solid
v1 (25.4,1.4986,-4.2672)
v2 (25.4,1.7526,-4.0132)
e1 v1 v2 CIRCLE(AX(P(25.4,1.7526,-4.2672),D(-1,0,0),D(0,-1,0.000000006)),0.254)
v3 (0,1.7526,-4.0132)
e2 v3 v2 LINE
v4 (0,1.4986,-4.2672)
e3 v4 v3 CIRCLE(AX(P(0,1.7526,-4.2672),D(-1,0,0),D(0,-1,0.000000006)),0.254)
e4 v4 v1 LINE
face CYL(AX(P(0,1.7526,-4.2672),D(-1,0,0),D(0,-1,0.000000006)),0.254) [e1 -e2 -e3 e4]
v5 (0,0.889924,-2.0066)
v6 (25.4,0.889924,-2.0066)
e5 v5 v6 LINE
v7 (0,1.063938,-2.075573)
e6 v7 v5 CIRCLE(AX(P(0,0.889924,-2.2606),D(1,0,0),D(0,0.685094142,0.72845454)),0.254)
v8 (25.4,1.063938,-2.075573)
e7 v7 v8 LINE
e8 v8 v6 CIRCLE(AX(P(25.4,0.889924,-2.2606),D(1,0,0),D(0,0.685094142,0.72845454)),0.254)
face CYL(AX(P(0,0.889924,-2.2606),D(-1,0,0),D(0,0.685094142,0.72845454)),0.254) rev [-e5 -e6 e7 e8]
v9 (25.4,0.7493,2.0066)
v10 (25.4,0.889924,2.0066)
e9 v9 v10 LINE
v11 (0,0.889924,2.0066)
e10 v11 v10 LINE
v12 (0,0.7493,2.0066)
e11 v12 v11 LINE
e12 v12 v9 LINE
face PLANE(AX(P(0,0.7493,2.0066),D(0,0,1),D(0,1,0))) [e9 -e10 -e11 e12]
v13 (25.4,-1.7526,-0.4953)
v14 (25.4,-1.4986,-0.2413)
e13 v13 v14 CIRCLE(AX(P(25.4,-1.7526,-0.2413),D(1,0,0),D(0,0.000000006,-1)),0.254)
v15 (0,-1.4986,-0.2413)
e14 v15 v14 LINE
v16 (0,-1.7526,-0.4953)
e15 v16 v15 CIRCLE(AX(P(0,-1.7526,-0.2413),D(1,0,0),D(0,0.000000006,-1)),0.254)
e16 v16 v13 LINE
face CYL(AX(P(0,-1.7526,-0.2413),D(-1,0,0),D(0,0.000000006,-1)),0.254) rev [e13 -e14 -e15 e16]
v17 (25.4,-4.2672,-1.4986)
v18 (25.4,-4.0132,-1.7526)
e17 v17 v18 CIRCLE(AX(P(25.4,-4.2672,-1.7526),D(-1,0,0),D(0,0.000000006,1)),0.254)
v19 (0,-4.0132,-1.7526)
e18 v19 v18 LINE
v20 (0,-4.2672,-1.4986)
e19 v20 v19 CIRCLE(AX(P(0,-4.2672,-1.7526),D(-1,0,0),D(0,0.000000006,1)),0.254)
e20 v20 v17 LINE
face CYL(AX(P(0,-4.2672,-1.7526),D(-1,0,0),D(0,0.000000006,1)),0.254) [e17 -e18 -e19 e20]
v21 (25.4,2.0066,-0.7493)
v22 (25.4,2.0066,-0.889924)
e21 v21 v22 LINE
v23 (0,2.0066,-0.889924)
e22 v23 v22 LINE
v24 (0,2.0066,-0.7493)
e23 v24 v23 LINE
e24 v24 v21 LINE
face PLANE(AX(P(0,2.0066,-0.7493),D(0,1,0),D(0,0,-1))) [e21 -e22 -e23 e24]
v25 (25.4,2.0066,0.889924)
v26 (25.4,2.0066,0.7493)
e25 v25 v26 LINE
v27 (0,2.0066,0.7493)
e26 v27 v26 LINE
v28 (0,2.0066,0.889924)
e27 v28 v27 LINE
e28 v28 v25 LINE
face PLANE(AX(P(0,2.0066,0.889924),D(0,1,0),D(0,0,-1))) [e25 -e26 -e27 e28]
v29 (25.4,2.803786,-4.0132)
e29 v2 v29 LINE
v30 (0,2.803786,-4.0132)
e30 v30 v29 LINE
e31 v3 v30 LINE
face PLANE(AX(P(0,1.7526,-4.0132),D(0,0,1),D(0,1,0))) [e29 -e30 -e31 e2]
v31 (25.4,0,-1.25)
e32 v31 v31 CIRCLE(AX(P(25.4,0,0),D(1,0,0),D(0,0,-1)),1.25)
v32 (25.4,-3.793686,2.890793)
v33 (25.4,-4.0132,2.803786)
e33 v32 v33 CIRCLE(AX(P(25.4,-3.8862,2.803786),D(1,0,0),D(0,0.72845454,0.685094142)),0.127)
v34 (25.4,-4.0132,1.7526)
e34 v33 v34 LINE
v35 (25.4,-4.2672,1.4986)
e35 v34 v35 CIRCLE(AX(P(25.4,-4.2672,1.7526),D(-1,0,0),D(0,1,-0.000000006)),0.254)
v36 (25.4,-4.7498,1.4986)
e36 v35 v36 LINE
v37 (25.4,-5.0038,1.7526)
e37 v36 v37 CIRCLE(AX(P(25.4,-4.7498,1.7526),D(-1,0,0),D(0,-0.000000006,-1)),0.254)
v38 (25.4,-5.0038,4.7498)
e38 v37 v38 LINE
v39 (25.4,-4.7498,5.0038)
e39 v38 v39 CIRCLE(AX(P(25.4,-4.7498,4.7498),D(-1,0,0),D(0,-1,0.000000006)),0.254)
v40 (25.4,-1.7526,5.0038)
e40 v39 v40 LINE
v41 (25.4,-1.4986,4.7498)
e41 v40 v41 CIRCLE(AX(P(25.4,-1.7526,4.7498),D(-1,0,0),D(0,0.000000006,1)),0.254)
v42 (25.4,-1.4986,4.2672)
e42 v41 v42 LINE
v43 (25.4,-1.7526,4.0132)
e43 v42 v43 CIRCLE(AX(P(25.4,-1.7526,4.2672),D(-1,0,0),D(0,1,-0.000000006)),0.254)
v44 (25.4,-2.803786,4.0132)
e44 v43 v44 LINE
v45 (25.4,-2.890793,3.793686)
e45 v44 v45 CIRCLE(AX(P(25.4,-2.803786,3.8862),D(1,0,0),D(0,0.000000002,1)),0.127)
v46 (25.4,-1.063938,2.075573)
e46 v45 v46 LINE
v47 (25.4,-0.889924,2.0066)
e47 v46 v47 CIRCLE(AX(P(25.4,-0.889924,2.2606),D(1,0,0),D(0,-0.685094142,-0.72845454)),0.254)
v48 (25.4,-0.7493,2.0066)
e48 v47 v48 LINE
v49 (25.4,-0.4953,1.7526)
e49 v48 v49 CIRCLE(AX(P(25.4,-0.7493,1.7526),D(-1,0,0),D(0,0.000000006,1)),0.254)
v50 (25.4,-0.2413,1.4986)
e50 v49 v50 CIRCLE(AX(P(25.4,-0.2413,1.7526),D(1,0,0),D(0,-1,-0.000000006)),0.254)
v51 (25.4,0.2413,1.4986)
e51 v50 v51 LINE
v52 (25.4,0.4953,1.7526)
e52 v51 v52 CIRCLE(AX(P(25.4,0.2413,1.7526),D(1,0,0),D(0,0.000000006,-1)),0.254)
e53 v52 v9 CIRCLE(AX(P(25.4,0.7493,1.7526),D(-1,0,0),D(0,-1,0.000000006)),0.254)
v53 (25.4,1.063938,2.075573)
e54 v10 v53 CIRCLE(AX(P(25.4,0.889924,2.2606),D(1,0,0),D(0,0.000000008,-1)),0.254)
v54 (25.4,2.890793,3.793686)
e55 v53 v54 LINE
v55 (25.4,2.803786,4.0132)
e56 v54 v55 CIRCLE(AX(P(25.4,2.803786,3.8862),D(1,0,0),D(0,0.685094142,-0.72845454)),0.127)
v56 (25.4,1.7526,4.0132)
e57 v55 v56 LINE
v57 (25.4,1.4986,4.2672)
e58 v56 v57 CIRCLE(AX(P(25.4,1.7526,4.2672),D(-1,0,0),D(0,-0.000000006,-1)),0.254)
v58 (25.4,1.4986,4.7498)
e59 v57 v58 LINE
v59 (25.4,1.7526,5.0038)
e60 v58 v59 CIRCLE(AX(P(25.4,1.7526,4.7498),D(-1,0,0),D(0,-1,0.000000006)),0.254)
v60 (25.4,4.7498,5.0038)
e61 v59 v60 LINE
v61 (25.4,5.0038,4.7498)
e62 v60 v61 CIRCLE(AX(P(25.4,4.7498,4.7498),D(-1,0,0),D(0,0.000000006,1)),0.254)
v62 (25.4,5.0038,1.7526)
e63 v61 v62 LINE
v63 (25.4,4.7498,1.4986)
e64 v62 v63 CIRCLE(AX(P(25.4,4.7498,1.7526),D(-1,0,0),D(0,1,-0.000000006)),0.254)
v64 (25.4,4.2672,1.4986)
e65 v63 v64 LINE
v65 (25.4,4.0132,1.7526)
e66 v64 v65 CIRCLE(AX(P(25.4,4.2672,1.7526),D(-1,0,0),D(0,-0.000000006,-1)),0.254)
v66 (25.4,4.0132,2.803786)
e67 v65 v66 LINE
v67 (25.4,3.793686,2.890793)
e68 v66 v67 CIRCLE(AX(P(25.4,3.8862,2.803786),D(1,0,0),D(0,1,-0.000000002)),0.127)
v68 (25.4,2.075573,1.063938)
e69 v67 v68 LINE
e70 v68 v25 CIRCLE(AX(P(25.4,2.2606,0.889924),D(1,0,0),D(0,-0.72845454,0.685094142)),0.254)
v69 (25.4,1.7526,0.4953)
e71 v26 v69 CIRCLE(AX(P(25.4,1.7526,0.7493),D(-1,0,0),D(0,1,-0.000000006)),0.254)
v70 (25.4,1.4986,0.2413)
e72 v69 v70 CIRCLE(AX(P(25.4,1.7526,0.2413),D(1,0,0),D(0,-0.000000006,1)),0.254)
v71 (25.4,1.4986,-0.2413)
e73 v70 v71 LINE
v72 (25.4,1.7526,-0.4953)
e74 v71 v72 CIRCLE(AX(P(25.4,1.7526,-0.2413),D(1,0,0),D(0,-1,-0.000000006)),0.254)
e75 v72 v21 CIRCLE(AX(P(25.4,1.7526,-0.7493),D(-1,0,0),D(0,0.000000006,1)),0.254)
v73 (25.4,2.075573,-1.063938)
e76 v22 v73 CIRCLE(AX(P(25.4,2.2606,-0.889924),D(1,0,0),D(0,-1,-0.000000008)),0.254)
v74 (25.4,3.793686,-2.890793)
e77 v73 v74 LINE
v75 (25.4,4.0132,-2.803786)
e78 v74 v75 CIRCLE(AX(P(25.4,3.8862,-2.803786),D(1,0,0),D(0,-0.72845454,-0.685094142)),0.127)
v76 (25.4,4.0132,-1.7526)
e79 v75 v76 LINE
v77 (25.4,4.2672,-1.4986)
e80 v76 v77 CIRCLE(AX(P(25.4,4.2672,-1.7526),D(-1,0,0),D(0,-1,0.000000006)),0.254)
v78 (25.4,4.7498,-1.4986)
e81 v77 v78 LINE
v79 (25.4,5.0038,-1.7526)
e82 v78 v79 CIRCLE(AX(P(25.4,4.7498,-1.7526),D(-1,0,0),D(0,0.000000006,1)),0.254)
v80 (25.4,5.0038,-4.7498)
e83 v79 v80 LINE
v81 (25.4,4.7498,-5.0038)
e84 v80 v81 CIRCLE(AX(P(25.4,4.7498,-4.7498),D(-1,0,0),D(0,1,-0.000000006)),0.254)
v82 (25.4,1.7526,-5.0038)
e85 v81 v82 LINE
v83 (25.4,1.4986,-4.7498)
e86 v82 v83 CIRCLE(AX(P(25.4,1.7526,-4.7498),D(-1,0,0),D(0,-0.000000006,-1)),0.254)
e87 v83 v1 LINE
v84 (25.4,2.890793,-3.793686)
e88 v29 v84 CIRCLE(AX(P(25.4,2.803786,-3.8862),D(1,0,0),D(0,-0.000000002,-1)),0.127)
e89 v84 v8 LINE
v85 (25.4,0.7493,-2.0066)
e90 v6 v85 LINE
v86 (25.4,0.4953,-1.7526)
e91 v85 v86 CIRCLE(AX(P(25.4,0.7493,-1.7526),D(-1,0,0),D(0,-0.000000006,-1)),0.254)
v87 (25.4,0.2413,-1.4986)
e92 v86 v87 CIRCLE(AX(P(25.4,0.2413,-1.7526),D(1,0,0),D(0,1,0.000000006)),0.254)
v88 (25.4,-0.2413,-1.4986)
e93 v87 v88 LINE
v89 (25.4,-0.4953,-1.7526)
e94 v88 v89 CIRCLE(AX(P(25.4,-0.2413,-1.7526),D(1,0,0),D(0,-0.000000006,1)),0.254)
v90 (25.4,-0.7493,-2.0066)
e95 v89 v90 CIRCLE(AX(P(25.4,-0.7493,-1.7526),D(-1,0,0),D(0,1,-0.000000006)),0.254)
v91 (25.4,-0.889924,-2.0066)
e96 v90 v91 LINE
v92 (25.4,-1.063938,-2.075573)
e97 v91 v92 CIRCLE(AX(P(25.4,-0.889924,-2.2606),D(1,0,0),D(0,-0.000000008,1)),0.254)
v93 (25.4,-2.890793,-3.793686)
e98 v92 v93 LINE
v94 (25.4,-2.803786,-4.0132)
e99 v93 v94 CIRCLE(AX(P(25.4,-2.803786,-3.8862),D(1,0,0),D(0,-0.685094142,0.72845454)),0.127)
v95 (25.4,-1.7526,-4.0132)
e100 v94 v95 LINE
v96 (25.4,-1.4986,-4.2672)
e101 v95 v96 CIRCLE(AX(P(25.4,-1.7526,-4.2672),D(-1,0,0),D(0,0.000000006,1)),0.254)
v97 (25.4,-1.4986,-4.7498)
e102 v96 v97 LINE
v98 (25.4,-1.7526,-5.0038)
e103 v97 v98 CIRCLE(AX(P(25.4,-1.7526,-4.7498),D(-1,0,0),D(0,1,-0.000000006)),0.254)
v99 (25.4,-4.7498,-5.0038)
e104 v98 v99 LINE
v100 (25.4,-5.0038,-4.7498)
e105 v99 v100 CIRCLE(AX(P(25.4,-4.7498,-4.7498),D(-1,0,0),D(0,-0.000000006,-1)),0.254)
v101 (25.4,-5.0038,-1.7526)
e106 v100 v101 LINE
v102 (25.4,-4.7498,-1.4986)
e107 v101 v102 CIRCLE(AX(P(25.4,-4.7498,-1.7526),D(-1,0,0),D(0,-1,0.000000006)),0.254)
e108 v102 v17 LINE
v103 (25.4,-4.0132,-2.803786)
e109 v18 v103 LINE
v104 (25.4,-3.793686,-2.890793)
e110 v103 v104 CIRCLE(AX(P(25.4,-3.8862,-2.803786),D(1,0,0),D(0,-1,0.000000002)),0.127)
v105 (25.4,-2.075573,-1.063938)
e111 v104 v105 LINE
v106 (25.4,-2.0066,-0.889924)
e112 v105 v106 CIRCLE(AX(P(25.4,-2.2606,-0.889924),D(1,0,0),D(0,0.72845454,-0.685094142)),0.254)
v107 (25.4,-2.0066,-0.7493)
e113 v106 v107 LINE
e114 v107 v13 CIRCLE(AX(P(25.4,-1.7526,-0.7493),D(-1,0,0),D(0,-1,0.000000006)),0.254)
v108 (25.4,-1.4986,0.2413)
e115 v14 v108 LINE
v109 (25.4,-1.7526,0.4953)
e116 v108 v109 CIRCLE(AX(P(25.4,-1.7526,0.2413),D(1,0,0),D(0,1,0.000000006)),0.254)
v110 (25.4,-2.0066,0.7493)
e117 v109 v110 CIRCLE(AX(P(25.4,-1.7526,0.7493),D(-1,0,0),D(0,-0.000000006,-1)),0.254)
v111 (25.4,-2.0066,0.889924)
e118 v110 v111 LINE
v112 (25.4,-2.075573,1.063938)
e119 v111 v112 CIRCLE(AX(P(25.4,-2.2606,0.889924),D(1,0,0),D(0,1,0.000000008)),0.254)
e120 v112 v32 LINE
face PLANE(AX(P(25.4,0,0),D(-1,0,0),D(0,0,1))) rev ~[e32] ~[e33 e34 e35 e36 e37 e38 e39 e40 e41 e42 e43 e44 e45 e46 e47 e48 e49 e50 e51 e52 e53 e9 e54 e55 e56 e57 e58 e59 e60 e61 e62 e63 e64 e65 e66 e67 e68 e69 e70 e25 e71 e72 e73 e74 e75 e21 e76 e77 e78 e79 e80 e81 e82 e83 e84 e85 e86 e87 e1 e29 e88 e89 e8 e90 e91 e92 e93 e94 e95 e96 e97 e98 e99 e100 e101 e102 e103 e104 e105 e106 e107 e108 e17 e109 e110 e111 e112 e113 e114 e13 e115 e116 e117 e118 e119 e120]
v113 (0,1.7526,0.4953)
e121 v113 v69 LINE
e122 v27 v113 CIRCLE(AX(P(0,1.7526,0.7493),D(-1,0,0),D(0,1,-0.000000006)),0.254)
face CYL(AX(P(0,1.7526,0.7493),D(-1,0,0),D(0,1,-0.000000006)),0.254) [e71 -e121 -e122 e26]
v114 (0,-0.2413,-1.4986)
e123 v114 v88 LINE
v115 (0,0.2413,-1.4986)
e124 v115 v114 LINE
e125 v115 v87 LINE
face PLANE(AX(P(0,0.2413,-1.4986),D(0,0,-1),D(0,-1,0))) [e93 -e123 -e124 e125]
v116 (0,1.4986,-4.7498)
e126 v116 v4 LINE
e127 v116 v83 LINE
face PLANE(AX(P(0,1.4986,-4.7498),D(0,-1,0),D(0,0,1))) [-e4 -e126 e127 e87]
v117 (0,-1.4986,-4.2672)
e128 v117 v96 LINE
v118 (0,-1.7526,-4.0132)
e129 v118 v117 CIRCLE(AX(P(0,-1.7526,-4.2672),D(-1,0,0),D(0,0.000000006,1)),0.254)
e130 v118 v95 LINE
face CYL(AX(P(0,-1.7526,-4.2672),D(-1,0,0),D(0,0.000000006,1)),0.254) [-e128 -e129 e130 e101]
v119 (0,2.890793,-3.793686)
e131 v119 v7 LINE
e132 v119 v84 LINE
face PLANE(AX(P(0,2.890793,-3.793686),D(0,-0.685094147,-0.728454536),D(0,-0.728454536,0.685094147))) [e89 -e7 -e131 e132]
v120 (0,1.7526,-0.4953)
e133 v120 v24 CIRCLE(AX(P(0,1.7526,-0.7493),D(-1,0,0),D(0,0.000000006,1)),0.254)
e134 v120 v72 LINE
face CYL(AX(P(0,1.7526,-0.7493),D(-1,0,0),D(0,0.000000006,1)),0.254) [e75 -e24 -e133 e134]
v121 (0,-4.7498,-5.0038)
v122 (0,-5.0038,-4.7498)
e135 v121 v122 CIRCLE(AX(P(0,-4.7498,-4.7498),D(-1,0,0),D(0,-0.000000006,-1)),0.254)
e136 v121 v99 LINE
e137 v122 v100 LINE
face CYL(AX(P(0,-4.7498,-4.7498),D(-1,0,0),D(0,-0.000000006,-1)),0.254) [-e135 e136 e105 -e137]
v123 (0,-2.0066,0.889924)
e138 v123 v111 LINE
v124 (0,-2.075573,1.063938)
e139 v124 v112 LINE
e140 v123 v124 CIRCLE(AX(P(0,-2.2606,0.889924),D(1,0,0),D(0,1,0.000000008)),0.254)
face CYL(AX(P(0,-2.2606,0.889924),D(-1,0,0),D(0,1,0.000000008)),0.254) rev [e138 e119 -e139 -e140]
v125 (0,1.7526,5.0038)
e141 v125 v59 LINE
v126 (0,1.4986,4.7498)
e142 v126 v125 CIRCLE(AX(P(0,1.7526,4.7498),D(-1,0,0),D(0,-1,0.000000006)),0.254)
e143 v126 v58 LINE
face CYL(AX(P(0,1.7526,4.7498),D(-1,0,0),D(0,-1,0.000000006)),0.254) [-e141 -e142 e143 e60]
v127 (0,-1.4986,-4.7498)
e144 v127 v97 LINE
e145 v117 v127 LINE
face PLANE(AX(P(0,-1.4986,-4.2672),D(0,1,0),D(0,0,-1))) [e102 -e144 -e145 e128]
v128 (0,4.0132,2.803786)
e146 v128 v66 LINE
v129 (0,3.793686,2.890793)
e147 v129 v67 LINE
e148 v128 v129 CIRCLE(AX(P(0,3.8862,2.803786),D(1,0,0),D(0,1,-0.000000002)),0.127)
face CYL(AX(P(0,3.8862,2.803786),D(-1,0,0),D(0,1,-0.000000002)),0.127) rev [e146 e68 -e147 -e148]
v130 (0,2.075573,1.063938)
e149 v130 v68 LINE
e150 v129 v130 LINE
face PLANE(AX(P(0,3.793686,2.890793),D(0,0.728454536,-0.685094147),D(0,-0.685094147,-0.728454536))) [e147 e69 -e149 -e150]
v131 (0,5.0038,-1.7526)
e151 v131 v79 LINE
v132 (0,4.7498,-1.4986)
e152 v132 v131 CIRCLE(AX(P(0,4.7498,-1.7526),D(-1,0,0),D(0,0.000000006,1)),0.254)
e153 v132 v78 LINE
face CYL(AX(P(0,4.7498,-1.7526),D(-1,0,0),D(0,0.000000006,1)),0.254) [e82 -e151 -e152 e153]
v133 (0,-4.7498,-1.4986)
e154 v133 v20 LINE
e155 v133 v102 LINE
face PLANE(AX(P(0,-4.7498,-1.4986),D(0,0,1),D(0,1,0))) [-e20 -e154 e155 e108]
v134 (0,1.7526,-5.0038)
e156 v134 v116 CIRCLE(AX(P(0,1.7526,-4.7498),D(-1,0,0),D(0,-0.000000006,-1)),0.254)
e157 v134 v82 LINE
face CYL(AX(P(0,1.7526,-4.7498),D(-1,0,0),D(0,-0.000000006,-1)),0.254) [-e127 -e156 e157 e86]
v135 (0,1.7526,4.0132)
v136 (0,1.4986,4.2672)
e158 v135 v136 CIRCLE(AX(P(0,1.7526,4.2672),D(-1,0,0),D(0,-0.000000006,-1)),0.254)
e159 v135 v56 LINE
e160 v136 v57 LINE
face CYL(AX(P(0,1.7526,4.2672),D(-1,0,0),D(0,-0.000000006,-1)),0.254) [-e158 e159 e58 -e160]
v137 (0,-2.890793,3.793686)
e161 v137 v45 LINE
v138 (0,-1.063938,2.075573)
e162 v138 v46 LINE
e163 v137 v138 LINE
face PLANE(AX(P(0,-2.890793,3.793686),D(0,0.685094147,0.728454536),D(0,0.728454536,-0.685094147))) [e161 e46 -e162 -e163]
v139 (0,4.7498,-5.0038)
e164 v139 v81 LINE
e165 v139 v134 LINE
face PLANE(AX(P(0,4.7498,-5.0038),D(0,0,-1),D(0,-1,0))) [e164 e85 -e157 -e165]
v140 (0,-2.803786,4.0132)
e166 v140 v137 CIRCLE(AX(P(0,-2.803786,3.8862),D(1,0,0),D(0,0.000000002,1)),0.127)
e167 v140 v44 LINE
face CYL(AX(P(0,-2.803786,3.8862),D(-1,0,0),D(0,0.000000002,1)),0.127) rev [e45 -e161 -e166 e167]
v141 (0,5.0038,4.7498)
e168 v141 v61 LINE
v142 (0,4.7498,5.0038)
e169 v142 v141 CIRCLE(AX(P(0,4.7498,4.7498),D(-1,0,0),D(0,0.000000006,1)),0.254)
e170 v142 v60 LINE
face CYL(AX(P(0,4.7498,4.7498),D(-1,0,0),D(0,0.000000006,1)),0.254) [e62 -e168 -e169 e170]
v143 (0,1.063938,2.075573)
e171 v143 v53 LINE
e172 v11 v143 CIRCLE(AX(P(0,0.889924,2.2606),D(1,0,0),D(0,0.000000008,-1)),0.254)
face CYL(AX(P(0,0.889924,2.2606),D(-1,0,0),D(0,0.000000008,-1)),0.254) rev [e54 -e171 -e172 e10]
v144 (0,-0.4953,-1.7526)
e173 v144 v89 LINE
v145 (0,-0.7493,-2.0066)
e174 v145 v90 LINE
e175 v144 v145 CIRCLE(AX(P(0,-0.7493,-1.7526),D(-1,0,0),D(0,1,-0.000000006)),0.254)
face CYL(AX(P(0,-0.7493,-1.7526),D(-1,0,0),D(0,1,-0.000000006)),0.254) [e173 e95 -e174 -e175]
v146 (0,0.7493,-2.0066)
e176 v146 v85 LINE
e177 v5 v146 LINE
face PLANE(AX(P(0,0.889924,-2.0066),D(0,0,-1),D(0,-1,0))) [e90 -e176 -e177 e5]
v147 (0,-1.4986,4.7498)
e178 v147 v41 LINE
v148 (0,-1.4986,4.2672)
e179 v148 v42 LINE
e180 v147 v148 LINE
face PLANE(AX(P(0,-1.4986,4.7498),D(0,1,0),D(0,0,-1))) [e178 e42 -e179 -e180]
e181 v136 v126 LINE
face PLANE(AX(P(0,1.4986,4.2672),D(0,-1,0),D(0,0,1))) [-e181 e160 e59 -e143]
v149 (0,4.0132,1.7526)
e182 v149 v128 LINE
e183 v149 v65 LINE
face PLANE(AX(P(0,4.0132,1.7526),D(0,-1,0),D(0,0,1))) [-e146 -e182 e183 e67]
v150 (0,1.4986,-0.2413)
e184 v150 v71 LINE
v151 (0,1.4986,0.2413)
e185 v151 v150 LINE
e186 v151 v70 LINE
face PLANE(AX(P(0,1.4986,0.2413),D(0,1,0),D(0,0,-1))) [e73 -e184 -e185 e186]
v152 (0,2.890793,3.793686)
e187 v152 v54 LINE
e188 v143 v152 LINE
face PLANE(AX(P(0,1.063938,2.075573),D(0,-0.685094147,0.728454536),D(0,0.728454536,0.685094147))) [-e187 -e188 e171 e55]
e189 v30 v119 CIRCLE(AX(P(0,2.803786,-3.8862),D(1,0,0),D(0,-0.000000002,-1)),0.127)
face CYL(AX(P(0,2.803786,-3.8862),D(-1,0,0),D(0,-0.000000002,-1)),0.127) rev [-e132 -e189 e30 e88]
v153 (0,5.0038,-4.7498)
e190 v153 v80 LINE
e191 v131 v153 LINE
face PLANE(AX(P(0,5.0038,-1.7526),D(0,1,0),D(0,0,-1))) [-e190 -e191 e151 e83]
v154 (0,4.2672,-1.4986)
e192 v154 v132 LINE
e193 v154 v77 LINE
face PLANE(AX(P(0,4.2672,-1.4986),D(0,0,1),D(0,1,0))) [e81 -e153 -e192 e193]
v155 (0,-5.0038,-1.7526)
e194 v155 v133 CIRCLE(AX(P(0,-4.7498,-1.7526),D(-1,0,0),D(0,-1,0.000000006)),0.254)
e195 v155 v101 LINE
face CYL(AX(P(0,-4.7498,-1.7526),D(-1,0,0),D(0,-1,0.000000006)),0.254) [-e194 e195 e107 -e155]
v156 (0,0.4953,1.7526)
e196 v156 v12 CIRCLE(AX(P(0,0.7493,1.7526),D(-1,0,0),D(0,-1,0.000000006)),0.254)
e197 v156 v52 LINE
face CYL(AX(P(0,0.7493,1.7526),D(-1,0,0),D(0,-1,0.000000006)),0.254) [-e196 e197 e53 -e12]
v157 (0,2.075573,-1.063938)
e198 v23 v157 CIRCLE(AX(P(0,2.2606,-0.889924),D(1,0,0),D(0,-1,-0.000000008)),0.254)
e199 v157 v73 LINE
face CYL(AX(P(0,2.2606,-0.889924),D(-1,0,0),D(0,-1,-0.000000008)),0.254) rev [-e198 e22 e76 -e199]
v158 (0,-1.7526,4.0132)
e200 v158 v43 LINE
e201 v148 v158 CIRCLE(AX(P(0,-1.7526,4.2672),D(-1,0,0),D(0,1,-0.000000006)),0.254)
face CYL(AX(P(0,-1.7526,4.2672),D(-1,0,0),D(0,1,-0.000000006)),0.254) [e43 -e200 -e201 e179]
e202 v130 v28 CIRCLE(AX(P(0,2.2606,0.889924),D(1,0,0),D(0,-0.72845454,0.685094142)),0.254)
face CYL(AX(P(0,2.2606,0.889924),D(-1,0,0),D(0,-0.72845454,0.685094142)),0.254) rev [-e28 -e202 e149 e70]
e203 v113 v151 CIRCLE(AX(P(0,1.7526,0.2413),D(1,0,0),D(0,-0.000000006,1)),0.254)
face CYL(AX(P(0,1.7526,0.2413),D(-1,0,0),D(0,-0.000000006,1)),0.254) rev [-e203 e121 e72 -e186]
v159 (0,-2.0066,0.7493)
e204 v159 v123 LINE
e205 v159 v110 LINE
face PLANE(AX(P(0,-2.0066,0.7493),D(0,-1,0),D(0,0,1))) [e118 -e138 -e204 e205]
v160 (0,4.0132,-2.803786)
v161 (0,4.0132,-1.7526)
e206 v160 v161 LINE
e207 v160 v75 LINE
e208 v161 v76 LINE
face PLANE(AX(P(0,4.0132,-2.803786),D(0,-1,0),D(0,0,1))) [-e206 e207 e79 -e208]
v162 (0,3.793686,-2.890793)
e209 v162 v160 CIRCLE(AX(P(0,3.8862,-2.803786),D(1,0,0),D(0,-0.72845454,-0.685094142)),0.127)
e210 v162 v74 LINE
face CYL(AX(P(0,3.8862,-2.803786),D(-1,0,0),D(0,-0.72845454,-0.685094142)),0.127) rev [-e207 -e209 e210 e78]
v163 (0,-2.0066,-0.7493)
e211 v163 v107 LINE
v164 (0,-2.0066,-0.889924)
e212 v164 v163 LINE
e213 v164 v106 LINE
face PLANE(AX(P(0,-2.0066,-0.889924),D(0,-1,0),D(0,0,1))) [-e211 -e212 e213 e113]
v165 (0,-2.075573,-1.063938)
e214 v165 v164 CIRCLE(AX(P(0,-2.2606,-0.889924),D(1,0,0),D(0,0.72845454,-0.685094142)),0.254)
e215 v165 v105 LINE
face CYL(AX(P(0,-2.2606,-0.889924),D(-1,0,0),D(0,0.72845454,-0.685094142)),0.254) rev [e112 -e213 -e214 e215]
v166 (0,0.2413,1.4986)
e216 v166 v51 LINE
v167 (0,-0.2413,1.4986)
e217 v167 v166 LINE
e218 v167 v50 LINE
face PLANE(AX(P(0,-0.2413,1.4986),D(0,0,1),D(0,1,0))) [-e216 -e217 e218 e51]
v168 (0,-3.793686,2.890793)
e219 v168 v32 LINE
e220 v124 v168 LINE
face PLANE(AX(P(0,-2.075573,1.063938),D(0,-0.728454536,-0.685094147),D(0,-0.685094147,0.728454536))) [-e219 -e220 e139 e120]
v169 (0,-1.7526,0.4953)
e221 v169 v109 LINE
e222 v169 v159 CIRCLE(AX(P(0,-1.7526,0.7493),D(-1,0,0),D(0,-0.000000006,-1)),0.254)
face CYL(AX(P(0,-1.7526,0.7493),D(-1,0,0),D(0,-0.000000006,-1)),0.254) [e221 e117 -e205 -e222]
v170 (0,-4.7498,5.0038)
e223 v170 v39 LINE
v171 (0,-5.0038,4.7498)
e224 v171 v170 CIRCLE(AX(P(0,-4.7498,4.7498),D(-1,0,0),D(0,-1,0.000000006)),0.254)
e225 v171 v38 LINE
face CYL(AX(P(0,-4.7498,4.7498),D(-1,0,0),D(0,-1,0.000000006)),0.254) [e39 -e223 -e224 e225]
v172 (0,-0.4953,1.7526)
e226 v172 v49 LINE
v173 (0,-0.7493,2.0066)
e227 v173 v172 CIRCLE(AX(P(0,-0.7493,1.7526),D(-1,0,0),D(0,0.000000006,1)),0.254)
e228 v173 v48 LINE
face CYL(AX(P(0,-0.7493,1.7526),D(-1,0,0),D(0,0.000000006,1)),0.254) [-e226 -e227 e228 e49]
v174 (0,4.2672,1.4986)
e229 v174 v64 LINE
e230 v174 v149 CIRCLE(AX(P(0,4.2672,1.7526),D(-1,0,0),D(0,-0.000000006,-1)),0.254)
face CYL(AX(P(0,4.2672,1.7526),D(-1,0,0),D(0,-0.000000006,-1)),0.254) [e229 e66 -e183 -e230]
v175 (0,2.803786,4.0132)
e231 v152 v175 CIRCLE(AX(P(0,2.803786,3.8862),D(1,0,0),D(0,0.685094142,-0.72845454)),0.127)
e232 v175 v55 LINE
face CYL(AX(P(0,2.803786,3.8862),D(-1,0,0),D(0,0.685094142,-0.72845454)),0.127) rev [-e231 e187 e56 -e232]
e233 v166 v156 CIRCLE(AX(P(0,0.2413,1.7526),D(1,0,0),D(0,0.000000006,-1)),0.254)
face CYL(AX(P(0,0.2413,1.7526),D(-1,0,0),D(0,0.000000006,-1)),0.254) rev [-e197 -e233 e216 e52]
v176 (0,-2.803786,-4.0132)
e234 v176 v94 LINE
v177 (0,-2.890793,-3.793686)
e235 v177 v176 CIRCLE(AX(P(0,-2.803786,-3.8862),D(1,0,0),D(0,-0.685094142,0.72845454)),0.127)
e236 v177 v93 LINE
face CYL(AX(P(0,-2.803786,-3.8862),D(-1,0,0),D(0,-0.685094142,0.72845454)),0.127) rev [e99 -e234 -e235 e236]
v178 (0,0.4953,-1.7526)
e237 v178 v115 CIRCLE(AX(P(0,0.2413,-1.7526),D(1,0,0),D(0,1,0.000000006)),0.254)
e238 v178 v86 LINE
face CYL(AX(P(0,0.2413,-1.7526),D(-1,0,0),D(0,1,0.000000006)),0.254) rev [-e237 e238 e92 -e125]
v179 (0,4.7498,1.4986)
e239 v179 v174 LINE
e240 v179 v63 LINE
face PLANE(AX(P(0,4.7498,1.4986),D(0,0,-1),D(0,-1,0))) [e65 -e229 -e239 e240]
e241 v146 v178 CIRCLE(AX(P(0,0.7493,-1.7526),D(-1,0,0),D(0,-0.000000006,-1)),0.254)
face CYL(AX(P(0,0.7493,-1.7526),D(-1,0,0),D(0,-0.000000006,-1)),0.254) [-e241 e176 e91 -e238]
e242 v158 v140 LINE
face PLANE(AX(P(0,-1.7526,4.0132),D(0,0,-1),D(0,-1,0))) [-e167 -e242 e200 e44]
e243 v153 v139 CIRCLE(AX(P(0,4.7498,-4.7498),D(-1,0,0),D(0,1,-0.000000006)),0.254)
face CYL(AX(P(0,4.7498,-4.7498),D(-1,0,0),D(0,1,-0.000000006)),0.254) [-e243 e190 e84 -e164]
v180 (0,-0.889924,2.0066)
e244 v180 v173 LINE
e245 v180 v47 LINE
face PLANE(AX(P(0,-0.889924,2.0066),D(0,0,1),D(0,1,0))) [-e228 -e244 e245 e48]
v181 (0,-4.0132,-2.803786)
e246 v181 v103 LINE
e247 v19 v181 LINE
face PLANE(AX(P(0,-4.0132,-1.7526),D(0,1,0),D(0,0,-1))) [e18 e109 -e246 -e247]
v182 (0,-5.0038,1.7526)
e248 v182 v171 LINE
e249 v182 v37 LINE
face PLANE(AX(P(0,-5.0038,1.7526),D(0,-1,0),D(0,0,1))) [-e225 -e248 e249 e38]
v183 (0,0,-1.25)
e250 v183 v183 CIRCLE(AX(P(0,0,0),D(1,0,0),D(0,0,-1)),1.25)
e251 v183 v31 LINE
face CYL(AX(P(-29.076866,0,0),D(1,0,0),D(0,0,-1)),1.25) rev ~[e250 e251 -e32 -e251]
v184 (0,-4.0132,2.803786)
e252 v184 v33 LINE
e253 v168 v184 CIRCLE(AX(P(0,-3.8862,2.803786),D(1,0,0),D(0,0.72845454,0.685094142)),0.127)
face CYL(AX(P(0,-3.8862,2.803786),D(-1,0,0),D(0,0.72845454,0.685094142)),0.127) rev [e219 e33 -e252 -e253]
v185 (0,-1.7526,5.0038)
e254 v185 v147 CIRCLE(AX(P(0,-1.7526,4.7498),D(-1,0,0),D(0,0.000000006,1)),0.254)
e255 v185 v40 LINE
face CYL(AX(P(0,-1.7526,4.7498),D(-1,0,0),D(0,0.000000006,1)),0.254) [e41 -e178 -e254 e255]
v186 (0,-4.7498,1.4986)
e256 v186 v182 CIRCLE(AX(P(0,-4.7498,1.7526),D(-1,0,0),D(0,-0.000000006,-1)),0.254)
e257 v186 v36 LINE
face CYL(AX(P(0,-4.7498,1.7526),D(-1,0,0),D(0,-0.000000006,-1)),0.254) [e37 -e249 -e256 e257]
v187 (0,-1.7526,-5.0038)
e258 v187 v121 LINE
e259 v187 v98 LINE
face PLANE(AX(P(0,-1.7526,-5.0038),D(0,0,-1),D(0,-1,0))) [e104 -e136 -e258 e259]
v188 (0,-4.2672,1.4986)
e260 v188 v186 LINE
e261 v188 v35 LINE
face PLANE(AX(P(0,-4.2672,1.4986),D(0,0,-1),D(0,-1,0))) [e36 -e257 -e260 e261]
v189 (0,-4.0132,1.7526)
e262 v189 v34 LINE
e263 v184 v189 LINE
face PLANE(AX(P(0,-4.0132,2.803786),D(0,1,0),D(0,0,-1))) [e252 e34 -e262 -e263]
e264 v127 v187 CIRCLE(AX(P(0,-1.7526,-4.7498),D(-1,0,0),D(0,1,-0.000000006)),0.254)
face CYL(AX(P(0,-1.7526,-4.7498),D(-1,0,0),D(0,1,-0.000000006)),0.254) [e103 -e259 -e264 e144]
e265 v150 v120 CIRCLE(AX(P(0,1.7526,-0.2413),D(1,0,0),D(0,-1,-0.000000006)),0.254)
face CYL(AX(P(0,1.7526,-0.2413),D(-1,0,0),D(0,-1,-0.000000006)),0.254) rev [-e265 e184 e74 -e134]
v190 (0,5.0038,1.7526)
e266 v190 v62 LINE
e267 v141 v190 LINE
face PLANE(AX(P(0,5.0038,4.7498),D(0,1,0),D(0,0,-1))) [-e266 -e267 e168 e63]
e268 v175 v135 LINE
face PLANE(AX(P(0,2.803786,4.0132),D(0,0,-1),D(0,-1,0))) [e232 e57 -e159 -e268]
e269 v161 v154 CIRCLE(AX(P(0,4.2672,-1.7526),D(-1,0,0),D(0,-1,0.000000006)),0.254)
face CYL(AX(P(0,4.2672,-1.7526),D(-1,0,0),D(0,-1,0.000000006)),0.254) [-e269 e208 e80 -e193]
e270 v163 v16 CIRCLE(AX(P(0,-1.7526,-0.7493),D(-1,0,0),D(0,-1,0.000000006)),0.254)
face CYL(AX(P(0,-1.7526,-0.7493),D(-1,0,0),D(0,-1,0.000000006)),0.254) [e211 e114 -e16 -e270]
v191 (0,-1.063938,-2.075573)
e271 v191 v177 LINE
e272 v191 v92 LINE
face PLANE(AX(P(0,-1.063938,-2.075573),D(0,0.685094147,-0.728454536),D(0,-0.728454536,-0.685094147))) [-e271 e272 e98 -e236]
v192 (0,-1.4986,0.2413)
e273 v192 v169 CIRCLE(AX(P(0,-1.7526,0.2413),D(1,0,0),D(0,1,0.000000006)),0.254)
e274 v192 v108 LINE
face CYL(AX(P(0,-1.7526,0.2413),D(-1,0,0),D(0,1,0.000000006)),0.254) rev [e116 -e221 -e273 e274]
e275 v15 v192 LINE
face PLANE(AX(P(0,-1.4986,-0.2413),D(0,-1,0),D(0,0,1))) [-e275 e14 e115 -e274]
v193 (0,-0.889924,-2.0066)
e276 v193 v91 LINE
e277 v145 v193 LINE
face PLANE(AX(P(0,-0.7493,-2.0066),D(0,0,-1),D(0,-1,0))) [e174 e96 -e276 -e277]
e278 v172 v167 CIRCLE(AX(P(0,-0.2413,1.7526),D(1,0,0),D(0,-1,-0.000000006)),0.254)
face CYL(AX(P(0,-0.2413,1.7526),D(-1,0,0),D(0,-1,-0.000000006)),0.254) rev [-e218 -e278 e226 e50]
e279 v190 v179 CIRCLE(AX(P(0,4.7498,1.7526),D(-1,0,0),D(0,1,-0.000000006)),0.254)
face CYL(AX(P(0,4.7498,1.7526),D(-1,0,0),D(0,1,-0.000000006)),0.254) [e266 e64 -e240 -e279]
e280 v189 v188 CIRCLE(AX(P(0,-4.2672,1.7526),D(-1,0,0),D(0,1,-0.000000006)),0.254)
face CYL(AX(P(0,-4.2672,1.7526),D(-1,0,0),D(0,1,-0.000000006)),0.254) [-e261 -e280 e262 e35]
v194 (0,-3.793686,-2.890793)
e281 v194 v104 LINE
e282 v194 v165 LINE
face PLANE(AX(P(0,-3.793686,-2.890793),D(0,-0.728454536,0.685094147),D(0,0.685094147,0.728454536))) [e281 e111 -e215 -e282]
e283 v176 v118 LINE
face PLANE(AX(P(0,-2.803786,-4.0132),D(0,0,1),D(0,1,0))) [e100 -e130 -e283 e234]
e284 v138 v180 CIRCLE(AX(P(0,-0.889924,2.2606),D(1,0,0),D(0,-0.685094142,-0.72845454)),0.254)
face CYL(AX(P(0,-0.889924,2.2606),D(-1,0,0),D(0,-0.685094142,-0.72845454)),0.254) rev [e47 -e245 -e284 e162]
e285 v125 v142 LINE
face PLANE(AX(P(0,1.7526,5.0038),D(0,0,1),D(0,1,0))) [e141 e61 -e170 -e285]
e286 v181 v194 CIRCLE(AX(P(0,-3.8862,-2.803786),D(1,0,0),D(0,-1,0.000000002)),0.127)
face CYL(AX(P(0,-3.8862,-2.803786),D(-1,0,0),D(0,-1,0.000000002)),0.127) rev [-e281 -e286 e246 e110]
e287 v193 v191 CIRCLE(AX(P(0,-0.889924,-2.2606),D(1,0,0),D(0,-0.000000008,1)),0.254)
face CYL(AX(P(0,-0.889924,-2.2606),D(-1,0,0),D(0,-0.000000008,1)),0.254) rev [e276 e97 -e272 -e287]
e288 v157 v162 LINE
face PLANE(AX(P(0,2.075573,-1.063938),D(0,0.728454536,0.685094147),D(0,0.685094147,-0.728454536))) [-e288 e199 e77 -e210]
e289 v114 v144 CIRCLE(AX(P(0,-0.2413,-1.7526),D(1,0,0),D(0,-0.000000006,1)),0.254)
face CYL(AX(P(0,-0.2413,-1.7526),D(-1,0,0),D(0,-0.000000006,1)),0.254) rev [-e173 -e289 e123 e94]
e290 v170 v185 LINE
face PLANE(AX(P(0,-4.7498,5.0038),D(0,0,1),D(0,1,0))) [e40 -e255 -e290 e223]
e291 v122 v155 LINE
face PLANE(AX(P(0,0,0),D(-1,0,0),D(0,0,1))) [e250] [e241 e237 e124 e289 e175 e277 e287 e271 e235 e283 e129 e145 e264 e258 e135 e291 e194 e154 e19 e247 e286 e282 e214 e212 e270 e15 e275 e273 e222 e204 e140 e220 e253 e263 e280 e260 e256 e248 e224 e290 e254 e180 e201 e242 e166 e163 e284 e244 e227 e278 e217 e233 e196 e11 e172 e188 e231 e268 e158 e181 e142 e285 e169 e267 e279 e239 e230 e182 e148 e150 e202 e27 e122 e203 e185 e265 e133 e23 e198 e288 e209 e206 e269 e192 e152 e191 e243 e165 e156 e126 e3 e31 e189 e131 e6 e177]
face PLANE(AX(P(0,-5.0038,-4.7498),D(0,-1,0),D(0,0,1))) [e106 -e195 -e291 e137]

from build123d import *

# Parameters (mm, degrees)
ESTRUSIONE_ESTRUSIONE1_DEPTH = 25.4
FORO_FILETTATO_M3X0_5_1_D    = 2.5


with BuildPart() as part:
    # Sketch1 → Estrusione-Estrusione1 (new body)
    with BuildSketch(Plane(origin=(0, 0, 0), x_dir=(0, 0, -1), z_dir=(1, 0, 0))):
        with BuildLine():
            Line((-0.2413, 1.4986), (0.2413, 1.4986))
            ThreePointArc((0.2413, 1.4986), (0.420905122, 1.572994878), (0.4953, 1.7526))
            ThreePointArc((0.4953, 1.7526), (0.569694878, 1.932205122), (0.7493, 2.0066))
            Line((0.7493, 2.0066), (0.889923986, 2.0066))
            ThreePointArc((0.889923986, 2.0066), (0.983516259, 2.024471886), (1.063937899, 2.075572548))
            Line((1.063937899, 2.075572548), (2.890793, 3.793686274))
            ThreePointArc((2.890793, 3.793686274), (2.921850101, 3.932996137), (2.803786044, 4.0132))
            Line((2.803786044, 4.0132), (1.7526, 4.0132))
            ThreePointArc((1.7526, 4.0132), (1.572994878, 4.087594878), (1.4986, 4.2672))
            Line((1.4986, 4.2672), (1.4986, 4.7498))
            ThreePointArc((1.4986, 4.7498), (1.572994878, 4.929405122), (1.7526, 5.0038))
            Line((1.7526, 5.0038), (4.7498, 5.0038))
            ThreePointArc((4.7498, 5.0038), (4.929405122, 4.929405122), (5.0038, 4.7498))
            Line((5.0038, 4.7498), (5.0038, 1.7526))
            ThreePointArc((5.0038, 1.7526), (4.929405122, 1.572994878), (4.7498, 1.4986))
            Line((4.7498, 1.4986), (4.2672, 1.4986))
            ThreePointArc((4.2672, 1.4986), (4.087594878, 1.572994878), (4.0132, 1.7526))
            Line((4.0132, 1.7526), (4.0132, 2.803786044))
            ThreePointArc((4.0132, 2.803786044), (3.932996137, 2.921850101), (3.793686274, 2.890793))
            Line((3.793686274, 2.890793), (2.075572548, 1.063937899))
            ThreePointArc((2.075572548, 1.063937899), (2.024471886, 0.983516259), (2.0066, 0.889923986))
            Line((2.0066, 0.889923986), (2.0066, 0.7493))
            ThreePointArc((2.0066, 0.7493), (1.932205122, 0.569694878), (1.7526, 0.4953))
            ThreePointArc((1.7526, 0.4953), (1.572994878, 0.420905122), (1.4986, 0.2413))
            Line((1.4986, 0.2413), (1.4986, -0.2413))
            ThreePointArc((1.4986, -0.2413), (1.572994878, -0.420905122), (1.7526, -0.4953))
            ThreePointArc((1.7526, -0.4953), (1.932205122, -0.569694878), (2.0066, -0.7493))
            Line((2.0066, -0.7493), (2.0066, -0.889923986))
            ThreePointArc((2.0066, -0.889923986), (2.024471886, -0.983516259), (2.075572548, -1.063937899))
            Line((2.075572548, -1.063937899), (3.793686274, -2.890793))
            ThreePointArc((3.793686274, -2.890793), (3.932996137, -2.921850101), (4.0132, -2.803786044))
            Line((4.0132, -2.803786044), (4.0132, -1.7526))
            ThreePointArc((4.0132, -1.7526), (4.087594878, -1.572994878), (4.2672, -1.4986))
            Line((4.2672, -1.4986), (4.7498, -1.4986))
            ThreePointArc((4.7498, -1.4986), (4.929405122, -1.572994878), (5.0038, -1.7526))
            Line((5.0038, -1.7526), (5.0038, -4.7498))
            ThreePointArc((5.0038, -4.7498), (4.929405122, -4.929405122), (4.7498, -5.0038))
            Line((4.7498, -5.0038), (1.7526, -5.0038))
            ThreePointArc((1.7526, -5.0038), (1.572994878, -4.929405122), (1.4986, -4.7498))
            Line((1.4986, -4.7498), (1.4986, -4.2672))
            ThreePointArc((1.4986, -4.2672), (1.572994878, -4.087594878), (1.7526, -4.0132))
            Line((1.7526, -4.0132), (2.803786044, -4.0132))
            ThreePointArc((2.803786044, -4.0132), (2.921850101, -3.932996137), (2.890793, -3.793686274))
            Line((2.890793, -3.793686274), (1.063937899, -2.075572548))
            ThreePointArc((1.063937899, -2.075572548), (0.983516259, -2.024471886), (0.889923986, -2.0066))
            Line((0.889923986, -2.0066), (0.7493, -2.0066))
            ThreePointArc((0.7493, -2.0066), (0.569694878, -1.932205122), (0.4953, -1.7526))
            ThreePointArc((0.4953, -1.7526), (0.420905122, -1.572994878), (0.2413, -1.4986))
            Line((0.2413, -1.4986), (-0.2413, -1.4986))
            ThreePointArc((-0.2413, -1.4986), (-0.420905122, -1.572994878), (-0.4953, -1.7526))
            ThreePointArc((-0.4953, -1.7526), (-0.569694878, -1.932205122), (-0.7493, -2.0066))
            Line((-0.7493, -2.0066), (-0.889923986, -2.0066))
            ThreePointArc((-0.889923986, -2.0066), (-0.983516259, -2.024471886), (-1.063937899, -2.075572548))
            Line((-1.063937899, -2.075572548), (-2.890793, -3.793686274))
            ThreePointArc((-2.890793, -3.793686274), (-2.921850101, -3.932996137), (-2.803786044, -4.0132))
            Line((-2.803786044, -4.0132), (-1.7526, -4.0132))
            ThreePointArc((-1.7526, -4.0132), (-1.572994878, -4.087594878), (-1.4986, -4.2672))
            Line((-1.4986, -4.2672), (-1.4986, -4.7498))
            ThreePointArc((-1.4986, -4.7498), (-1.572994878, -4.929405122), (-1.7526, -5.0038))
            Line((-1.7526, -5.0038), (-4.7498, -5.0038))
            ThreePointArc((-4.7498, -5.0038), (-4.929405122, -4.929405122), (-5.0038, -4.7498))
            Line((-5.0038, -4.7498), (-5.0038, -1.7526))
            ThreePointArc((-5.0038, -1.7526), (-4.929405122, -1.572994878), (-4.7498, -1.4986))
            Line((-4.7498, -1.4986), (-4.2672, -1.4986))
            ThreePointArc((-4.2672, -1.4986), (-4.087594878, -1.572994878), (-4.0132, -1.7526))
            Line((-4.0132, -1.7526), (-4.0132, -2.803786044))
            ThreePointArc((-4.0132, -2.803786044), (-3.932996137, -2.921850101), (-3.793686274, -2.890793))
            Line((-3.793686274, -2.890793), (-2.075572548, -1.063937899))
            ThreePointArc((-2.075572548, -1.063937899), (-2.024471886, -0.983516259), (-2.0066, -0.889923986))
            Line((-2.0066, -0.889923986), (-2.0066, -0.7493))
            ThreePointArc((-2.0066, -0.7493), (-1.932205122, -0.569694878), (-1.7526, -0.4953))
            ThreePointArc((-1.7526, -0.4953), (-1.572994878, -0.420905122), (-1.4986, -0.2413))
            Line((-1.4986, -0.2413), (-1.4986, 0.2413))
            ThreePointArc((-1.4986, 0.2413), (-1.572994878, 0.420905122), (-1.7526, 0.4953))
            ThreePointArc((-1.7526, 0.4953), (-1.932205122, 0.569694878), (-2.0066, 0.7493))
            Line((-2.0066, 0.7493), (-2.0066, 0.889923986))
            ThreePointArc((-2.0066, 0.889923986), (-2.024471886, 0.983516259), (-2.075572548, 1.063937899))
            Line((-2.075572548, 1.063937899), (-3.793686274, 2.890793))
            ThreePointArc((-3.793686274, 2.890793), (-3.932996137, 2.921850101), (-4.0132, 2.803786044))
            Line((-4.0132, 2.803786044), (-4.0132, 1.7526))
            ThreePointArc((-4.0132, 1.7526), (-4.087594878, 1.572994878), (-4.2672, 1.4986))
            Line((-4.2672, 1.4986), (-4.7498, 1.4986))
            ThreePointArc((-4.7498, 1.4986), (-4.929405122, 1.572994878), (-5.0038, 1.7526))
            Line((-5.0038, 1.7526), (-5.0038, 4.7498))
            ThreePointArc((-5.0038, 4.7498), (-4.929405122, 4.929405122), (-4.7498, 5.0038))
            Line((-4.7498, 5.0038), (-1.7526, 5.0038))
            ThreePointArc((-1.7526, 5.0038), (-1.572994878, 4.929405122), (-1.4986, 4.7498))
            Line((-1.4986, 4.7498), (-1.4986, 4.2672))
            ThreePointArc((-1.4986, 4.2672), (-1.572994878, 4.087594878), (-1.7526, 4.0132))
            Line((-1.7526, 4.0132), (-2.803786044, 4.0132))
            ThreePointArc((-2.803786044, 4.0132), (-2.921850101, 3.932996137), (-2.890793, 3.793686274))
            Line((-2.890793, 3.793686274), (-1.063937899, 2.075572548))
            ThreePointArc((-1.063937899, 2.075572548), (-0.983516259, 2.024471886), (-0.889923986, 2.0066))
            Line((-0.889923986, 2.0066), (-0.7493, 2.0066))
            ThreePointArc((-0.7493, 2.0066), (-0.569694878, 1.932205122), (-0.4953, 1.7526))
            ThreePointArc((-0.4953, 1.7526), (-0.420905122, 1.572994878), (-0.2413, 1.4986))
        make_face()
    extrude(amount=ESTRUSIONE_ESTRUSIONE1_DEPTH)

    # Foro filettato M3x0.5-1 (through all)
    with Locations(Plane.ZY):
        with Locations((0, 0)):
            Hole(FORO_FILETTATO_M3X0_5_1_D / 2)


solid = part.part
